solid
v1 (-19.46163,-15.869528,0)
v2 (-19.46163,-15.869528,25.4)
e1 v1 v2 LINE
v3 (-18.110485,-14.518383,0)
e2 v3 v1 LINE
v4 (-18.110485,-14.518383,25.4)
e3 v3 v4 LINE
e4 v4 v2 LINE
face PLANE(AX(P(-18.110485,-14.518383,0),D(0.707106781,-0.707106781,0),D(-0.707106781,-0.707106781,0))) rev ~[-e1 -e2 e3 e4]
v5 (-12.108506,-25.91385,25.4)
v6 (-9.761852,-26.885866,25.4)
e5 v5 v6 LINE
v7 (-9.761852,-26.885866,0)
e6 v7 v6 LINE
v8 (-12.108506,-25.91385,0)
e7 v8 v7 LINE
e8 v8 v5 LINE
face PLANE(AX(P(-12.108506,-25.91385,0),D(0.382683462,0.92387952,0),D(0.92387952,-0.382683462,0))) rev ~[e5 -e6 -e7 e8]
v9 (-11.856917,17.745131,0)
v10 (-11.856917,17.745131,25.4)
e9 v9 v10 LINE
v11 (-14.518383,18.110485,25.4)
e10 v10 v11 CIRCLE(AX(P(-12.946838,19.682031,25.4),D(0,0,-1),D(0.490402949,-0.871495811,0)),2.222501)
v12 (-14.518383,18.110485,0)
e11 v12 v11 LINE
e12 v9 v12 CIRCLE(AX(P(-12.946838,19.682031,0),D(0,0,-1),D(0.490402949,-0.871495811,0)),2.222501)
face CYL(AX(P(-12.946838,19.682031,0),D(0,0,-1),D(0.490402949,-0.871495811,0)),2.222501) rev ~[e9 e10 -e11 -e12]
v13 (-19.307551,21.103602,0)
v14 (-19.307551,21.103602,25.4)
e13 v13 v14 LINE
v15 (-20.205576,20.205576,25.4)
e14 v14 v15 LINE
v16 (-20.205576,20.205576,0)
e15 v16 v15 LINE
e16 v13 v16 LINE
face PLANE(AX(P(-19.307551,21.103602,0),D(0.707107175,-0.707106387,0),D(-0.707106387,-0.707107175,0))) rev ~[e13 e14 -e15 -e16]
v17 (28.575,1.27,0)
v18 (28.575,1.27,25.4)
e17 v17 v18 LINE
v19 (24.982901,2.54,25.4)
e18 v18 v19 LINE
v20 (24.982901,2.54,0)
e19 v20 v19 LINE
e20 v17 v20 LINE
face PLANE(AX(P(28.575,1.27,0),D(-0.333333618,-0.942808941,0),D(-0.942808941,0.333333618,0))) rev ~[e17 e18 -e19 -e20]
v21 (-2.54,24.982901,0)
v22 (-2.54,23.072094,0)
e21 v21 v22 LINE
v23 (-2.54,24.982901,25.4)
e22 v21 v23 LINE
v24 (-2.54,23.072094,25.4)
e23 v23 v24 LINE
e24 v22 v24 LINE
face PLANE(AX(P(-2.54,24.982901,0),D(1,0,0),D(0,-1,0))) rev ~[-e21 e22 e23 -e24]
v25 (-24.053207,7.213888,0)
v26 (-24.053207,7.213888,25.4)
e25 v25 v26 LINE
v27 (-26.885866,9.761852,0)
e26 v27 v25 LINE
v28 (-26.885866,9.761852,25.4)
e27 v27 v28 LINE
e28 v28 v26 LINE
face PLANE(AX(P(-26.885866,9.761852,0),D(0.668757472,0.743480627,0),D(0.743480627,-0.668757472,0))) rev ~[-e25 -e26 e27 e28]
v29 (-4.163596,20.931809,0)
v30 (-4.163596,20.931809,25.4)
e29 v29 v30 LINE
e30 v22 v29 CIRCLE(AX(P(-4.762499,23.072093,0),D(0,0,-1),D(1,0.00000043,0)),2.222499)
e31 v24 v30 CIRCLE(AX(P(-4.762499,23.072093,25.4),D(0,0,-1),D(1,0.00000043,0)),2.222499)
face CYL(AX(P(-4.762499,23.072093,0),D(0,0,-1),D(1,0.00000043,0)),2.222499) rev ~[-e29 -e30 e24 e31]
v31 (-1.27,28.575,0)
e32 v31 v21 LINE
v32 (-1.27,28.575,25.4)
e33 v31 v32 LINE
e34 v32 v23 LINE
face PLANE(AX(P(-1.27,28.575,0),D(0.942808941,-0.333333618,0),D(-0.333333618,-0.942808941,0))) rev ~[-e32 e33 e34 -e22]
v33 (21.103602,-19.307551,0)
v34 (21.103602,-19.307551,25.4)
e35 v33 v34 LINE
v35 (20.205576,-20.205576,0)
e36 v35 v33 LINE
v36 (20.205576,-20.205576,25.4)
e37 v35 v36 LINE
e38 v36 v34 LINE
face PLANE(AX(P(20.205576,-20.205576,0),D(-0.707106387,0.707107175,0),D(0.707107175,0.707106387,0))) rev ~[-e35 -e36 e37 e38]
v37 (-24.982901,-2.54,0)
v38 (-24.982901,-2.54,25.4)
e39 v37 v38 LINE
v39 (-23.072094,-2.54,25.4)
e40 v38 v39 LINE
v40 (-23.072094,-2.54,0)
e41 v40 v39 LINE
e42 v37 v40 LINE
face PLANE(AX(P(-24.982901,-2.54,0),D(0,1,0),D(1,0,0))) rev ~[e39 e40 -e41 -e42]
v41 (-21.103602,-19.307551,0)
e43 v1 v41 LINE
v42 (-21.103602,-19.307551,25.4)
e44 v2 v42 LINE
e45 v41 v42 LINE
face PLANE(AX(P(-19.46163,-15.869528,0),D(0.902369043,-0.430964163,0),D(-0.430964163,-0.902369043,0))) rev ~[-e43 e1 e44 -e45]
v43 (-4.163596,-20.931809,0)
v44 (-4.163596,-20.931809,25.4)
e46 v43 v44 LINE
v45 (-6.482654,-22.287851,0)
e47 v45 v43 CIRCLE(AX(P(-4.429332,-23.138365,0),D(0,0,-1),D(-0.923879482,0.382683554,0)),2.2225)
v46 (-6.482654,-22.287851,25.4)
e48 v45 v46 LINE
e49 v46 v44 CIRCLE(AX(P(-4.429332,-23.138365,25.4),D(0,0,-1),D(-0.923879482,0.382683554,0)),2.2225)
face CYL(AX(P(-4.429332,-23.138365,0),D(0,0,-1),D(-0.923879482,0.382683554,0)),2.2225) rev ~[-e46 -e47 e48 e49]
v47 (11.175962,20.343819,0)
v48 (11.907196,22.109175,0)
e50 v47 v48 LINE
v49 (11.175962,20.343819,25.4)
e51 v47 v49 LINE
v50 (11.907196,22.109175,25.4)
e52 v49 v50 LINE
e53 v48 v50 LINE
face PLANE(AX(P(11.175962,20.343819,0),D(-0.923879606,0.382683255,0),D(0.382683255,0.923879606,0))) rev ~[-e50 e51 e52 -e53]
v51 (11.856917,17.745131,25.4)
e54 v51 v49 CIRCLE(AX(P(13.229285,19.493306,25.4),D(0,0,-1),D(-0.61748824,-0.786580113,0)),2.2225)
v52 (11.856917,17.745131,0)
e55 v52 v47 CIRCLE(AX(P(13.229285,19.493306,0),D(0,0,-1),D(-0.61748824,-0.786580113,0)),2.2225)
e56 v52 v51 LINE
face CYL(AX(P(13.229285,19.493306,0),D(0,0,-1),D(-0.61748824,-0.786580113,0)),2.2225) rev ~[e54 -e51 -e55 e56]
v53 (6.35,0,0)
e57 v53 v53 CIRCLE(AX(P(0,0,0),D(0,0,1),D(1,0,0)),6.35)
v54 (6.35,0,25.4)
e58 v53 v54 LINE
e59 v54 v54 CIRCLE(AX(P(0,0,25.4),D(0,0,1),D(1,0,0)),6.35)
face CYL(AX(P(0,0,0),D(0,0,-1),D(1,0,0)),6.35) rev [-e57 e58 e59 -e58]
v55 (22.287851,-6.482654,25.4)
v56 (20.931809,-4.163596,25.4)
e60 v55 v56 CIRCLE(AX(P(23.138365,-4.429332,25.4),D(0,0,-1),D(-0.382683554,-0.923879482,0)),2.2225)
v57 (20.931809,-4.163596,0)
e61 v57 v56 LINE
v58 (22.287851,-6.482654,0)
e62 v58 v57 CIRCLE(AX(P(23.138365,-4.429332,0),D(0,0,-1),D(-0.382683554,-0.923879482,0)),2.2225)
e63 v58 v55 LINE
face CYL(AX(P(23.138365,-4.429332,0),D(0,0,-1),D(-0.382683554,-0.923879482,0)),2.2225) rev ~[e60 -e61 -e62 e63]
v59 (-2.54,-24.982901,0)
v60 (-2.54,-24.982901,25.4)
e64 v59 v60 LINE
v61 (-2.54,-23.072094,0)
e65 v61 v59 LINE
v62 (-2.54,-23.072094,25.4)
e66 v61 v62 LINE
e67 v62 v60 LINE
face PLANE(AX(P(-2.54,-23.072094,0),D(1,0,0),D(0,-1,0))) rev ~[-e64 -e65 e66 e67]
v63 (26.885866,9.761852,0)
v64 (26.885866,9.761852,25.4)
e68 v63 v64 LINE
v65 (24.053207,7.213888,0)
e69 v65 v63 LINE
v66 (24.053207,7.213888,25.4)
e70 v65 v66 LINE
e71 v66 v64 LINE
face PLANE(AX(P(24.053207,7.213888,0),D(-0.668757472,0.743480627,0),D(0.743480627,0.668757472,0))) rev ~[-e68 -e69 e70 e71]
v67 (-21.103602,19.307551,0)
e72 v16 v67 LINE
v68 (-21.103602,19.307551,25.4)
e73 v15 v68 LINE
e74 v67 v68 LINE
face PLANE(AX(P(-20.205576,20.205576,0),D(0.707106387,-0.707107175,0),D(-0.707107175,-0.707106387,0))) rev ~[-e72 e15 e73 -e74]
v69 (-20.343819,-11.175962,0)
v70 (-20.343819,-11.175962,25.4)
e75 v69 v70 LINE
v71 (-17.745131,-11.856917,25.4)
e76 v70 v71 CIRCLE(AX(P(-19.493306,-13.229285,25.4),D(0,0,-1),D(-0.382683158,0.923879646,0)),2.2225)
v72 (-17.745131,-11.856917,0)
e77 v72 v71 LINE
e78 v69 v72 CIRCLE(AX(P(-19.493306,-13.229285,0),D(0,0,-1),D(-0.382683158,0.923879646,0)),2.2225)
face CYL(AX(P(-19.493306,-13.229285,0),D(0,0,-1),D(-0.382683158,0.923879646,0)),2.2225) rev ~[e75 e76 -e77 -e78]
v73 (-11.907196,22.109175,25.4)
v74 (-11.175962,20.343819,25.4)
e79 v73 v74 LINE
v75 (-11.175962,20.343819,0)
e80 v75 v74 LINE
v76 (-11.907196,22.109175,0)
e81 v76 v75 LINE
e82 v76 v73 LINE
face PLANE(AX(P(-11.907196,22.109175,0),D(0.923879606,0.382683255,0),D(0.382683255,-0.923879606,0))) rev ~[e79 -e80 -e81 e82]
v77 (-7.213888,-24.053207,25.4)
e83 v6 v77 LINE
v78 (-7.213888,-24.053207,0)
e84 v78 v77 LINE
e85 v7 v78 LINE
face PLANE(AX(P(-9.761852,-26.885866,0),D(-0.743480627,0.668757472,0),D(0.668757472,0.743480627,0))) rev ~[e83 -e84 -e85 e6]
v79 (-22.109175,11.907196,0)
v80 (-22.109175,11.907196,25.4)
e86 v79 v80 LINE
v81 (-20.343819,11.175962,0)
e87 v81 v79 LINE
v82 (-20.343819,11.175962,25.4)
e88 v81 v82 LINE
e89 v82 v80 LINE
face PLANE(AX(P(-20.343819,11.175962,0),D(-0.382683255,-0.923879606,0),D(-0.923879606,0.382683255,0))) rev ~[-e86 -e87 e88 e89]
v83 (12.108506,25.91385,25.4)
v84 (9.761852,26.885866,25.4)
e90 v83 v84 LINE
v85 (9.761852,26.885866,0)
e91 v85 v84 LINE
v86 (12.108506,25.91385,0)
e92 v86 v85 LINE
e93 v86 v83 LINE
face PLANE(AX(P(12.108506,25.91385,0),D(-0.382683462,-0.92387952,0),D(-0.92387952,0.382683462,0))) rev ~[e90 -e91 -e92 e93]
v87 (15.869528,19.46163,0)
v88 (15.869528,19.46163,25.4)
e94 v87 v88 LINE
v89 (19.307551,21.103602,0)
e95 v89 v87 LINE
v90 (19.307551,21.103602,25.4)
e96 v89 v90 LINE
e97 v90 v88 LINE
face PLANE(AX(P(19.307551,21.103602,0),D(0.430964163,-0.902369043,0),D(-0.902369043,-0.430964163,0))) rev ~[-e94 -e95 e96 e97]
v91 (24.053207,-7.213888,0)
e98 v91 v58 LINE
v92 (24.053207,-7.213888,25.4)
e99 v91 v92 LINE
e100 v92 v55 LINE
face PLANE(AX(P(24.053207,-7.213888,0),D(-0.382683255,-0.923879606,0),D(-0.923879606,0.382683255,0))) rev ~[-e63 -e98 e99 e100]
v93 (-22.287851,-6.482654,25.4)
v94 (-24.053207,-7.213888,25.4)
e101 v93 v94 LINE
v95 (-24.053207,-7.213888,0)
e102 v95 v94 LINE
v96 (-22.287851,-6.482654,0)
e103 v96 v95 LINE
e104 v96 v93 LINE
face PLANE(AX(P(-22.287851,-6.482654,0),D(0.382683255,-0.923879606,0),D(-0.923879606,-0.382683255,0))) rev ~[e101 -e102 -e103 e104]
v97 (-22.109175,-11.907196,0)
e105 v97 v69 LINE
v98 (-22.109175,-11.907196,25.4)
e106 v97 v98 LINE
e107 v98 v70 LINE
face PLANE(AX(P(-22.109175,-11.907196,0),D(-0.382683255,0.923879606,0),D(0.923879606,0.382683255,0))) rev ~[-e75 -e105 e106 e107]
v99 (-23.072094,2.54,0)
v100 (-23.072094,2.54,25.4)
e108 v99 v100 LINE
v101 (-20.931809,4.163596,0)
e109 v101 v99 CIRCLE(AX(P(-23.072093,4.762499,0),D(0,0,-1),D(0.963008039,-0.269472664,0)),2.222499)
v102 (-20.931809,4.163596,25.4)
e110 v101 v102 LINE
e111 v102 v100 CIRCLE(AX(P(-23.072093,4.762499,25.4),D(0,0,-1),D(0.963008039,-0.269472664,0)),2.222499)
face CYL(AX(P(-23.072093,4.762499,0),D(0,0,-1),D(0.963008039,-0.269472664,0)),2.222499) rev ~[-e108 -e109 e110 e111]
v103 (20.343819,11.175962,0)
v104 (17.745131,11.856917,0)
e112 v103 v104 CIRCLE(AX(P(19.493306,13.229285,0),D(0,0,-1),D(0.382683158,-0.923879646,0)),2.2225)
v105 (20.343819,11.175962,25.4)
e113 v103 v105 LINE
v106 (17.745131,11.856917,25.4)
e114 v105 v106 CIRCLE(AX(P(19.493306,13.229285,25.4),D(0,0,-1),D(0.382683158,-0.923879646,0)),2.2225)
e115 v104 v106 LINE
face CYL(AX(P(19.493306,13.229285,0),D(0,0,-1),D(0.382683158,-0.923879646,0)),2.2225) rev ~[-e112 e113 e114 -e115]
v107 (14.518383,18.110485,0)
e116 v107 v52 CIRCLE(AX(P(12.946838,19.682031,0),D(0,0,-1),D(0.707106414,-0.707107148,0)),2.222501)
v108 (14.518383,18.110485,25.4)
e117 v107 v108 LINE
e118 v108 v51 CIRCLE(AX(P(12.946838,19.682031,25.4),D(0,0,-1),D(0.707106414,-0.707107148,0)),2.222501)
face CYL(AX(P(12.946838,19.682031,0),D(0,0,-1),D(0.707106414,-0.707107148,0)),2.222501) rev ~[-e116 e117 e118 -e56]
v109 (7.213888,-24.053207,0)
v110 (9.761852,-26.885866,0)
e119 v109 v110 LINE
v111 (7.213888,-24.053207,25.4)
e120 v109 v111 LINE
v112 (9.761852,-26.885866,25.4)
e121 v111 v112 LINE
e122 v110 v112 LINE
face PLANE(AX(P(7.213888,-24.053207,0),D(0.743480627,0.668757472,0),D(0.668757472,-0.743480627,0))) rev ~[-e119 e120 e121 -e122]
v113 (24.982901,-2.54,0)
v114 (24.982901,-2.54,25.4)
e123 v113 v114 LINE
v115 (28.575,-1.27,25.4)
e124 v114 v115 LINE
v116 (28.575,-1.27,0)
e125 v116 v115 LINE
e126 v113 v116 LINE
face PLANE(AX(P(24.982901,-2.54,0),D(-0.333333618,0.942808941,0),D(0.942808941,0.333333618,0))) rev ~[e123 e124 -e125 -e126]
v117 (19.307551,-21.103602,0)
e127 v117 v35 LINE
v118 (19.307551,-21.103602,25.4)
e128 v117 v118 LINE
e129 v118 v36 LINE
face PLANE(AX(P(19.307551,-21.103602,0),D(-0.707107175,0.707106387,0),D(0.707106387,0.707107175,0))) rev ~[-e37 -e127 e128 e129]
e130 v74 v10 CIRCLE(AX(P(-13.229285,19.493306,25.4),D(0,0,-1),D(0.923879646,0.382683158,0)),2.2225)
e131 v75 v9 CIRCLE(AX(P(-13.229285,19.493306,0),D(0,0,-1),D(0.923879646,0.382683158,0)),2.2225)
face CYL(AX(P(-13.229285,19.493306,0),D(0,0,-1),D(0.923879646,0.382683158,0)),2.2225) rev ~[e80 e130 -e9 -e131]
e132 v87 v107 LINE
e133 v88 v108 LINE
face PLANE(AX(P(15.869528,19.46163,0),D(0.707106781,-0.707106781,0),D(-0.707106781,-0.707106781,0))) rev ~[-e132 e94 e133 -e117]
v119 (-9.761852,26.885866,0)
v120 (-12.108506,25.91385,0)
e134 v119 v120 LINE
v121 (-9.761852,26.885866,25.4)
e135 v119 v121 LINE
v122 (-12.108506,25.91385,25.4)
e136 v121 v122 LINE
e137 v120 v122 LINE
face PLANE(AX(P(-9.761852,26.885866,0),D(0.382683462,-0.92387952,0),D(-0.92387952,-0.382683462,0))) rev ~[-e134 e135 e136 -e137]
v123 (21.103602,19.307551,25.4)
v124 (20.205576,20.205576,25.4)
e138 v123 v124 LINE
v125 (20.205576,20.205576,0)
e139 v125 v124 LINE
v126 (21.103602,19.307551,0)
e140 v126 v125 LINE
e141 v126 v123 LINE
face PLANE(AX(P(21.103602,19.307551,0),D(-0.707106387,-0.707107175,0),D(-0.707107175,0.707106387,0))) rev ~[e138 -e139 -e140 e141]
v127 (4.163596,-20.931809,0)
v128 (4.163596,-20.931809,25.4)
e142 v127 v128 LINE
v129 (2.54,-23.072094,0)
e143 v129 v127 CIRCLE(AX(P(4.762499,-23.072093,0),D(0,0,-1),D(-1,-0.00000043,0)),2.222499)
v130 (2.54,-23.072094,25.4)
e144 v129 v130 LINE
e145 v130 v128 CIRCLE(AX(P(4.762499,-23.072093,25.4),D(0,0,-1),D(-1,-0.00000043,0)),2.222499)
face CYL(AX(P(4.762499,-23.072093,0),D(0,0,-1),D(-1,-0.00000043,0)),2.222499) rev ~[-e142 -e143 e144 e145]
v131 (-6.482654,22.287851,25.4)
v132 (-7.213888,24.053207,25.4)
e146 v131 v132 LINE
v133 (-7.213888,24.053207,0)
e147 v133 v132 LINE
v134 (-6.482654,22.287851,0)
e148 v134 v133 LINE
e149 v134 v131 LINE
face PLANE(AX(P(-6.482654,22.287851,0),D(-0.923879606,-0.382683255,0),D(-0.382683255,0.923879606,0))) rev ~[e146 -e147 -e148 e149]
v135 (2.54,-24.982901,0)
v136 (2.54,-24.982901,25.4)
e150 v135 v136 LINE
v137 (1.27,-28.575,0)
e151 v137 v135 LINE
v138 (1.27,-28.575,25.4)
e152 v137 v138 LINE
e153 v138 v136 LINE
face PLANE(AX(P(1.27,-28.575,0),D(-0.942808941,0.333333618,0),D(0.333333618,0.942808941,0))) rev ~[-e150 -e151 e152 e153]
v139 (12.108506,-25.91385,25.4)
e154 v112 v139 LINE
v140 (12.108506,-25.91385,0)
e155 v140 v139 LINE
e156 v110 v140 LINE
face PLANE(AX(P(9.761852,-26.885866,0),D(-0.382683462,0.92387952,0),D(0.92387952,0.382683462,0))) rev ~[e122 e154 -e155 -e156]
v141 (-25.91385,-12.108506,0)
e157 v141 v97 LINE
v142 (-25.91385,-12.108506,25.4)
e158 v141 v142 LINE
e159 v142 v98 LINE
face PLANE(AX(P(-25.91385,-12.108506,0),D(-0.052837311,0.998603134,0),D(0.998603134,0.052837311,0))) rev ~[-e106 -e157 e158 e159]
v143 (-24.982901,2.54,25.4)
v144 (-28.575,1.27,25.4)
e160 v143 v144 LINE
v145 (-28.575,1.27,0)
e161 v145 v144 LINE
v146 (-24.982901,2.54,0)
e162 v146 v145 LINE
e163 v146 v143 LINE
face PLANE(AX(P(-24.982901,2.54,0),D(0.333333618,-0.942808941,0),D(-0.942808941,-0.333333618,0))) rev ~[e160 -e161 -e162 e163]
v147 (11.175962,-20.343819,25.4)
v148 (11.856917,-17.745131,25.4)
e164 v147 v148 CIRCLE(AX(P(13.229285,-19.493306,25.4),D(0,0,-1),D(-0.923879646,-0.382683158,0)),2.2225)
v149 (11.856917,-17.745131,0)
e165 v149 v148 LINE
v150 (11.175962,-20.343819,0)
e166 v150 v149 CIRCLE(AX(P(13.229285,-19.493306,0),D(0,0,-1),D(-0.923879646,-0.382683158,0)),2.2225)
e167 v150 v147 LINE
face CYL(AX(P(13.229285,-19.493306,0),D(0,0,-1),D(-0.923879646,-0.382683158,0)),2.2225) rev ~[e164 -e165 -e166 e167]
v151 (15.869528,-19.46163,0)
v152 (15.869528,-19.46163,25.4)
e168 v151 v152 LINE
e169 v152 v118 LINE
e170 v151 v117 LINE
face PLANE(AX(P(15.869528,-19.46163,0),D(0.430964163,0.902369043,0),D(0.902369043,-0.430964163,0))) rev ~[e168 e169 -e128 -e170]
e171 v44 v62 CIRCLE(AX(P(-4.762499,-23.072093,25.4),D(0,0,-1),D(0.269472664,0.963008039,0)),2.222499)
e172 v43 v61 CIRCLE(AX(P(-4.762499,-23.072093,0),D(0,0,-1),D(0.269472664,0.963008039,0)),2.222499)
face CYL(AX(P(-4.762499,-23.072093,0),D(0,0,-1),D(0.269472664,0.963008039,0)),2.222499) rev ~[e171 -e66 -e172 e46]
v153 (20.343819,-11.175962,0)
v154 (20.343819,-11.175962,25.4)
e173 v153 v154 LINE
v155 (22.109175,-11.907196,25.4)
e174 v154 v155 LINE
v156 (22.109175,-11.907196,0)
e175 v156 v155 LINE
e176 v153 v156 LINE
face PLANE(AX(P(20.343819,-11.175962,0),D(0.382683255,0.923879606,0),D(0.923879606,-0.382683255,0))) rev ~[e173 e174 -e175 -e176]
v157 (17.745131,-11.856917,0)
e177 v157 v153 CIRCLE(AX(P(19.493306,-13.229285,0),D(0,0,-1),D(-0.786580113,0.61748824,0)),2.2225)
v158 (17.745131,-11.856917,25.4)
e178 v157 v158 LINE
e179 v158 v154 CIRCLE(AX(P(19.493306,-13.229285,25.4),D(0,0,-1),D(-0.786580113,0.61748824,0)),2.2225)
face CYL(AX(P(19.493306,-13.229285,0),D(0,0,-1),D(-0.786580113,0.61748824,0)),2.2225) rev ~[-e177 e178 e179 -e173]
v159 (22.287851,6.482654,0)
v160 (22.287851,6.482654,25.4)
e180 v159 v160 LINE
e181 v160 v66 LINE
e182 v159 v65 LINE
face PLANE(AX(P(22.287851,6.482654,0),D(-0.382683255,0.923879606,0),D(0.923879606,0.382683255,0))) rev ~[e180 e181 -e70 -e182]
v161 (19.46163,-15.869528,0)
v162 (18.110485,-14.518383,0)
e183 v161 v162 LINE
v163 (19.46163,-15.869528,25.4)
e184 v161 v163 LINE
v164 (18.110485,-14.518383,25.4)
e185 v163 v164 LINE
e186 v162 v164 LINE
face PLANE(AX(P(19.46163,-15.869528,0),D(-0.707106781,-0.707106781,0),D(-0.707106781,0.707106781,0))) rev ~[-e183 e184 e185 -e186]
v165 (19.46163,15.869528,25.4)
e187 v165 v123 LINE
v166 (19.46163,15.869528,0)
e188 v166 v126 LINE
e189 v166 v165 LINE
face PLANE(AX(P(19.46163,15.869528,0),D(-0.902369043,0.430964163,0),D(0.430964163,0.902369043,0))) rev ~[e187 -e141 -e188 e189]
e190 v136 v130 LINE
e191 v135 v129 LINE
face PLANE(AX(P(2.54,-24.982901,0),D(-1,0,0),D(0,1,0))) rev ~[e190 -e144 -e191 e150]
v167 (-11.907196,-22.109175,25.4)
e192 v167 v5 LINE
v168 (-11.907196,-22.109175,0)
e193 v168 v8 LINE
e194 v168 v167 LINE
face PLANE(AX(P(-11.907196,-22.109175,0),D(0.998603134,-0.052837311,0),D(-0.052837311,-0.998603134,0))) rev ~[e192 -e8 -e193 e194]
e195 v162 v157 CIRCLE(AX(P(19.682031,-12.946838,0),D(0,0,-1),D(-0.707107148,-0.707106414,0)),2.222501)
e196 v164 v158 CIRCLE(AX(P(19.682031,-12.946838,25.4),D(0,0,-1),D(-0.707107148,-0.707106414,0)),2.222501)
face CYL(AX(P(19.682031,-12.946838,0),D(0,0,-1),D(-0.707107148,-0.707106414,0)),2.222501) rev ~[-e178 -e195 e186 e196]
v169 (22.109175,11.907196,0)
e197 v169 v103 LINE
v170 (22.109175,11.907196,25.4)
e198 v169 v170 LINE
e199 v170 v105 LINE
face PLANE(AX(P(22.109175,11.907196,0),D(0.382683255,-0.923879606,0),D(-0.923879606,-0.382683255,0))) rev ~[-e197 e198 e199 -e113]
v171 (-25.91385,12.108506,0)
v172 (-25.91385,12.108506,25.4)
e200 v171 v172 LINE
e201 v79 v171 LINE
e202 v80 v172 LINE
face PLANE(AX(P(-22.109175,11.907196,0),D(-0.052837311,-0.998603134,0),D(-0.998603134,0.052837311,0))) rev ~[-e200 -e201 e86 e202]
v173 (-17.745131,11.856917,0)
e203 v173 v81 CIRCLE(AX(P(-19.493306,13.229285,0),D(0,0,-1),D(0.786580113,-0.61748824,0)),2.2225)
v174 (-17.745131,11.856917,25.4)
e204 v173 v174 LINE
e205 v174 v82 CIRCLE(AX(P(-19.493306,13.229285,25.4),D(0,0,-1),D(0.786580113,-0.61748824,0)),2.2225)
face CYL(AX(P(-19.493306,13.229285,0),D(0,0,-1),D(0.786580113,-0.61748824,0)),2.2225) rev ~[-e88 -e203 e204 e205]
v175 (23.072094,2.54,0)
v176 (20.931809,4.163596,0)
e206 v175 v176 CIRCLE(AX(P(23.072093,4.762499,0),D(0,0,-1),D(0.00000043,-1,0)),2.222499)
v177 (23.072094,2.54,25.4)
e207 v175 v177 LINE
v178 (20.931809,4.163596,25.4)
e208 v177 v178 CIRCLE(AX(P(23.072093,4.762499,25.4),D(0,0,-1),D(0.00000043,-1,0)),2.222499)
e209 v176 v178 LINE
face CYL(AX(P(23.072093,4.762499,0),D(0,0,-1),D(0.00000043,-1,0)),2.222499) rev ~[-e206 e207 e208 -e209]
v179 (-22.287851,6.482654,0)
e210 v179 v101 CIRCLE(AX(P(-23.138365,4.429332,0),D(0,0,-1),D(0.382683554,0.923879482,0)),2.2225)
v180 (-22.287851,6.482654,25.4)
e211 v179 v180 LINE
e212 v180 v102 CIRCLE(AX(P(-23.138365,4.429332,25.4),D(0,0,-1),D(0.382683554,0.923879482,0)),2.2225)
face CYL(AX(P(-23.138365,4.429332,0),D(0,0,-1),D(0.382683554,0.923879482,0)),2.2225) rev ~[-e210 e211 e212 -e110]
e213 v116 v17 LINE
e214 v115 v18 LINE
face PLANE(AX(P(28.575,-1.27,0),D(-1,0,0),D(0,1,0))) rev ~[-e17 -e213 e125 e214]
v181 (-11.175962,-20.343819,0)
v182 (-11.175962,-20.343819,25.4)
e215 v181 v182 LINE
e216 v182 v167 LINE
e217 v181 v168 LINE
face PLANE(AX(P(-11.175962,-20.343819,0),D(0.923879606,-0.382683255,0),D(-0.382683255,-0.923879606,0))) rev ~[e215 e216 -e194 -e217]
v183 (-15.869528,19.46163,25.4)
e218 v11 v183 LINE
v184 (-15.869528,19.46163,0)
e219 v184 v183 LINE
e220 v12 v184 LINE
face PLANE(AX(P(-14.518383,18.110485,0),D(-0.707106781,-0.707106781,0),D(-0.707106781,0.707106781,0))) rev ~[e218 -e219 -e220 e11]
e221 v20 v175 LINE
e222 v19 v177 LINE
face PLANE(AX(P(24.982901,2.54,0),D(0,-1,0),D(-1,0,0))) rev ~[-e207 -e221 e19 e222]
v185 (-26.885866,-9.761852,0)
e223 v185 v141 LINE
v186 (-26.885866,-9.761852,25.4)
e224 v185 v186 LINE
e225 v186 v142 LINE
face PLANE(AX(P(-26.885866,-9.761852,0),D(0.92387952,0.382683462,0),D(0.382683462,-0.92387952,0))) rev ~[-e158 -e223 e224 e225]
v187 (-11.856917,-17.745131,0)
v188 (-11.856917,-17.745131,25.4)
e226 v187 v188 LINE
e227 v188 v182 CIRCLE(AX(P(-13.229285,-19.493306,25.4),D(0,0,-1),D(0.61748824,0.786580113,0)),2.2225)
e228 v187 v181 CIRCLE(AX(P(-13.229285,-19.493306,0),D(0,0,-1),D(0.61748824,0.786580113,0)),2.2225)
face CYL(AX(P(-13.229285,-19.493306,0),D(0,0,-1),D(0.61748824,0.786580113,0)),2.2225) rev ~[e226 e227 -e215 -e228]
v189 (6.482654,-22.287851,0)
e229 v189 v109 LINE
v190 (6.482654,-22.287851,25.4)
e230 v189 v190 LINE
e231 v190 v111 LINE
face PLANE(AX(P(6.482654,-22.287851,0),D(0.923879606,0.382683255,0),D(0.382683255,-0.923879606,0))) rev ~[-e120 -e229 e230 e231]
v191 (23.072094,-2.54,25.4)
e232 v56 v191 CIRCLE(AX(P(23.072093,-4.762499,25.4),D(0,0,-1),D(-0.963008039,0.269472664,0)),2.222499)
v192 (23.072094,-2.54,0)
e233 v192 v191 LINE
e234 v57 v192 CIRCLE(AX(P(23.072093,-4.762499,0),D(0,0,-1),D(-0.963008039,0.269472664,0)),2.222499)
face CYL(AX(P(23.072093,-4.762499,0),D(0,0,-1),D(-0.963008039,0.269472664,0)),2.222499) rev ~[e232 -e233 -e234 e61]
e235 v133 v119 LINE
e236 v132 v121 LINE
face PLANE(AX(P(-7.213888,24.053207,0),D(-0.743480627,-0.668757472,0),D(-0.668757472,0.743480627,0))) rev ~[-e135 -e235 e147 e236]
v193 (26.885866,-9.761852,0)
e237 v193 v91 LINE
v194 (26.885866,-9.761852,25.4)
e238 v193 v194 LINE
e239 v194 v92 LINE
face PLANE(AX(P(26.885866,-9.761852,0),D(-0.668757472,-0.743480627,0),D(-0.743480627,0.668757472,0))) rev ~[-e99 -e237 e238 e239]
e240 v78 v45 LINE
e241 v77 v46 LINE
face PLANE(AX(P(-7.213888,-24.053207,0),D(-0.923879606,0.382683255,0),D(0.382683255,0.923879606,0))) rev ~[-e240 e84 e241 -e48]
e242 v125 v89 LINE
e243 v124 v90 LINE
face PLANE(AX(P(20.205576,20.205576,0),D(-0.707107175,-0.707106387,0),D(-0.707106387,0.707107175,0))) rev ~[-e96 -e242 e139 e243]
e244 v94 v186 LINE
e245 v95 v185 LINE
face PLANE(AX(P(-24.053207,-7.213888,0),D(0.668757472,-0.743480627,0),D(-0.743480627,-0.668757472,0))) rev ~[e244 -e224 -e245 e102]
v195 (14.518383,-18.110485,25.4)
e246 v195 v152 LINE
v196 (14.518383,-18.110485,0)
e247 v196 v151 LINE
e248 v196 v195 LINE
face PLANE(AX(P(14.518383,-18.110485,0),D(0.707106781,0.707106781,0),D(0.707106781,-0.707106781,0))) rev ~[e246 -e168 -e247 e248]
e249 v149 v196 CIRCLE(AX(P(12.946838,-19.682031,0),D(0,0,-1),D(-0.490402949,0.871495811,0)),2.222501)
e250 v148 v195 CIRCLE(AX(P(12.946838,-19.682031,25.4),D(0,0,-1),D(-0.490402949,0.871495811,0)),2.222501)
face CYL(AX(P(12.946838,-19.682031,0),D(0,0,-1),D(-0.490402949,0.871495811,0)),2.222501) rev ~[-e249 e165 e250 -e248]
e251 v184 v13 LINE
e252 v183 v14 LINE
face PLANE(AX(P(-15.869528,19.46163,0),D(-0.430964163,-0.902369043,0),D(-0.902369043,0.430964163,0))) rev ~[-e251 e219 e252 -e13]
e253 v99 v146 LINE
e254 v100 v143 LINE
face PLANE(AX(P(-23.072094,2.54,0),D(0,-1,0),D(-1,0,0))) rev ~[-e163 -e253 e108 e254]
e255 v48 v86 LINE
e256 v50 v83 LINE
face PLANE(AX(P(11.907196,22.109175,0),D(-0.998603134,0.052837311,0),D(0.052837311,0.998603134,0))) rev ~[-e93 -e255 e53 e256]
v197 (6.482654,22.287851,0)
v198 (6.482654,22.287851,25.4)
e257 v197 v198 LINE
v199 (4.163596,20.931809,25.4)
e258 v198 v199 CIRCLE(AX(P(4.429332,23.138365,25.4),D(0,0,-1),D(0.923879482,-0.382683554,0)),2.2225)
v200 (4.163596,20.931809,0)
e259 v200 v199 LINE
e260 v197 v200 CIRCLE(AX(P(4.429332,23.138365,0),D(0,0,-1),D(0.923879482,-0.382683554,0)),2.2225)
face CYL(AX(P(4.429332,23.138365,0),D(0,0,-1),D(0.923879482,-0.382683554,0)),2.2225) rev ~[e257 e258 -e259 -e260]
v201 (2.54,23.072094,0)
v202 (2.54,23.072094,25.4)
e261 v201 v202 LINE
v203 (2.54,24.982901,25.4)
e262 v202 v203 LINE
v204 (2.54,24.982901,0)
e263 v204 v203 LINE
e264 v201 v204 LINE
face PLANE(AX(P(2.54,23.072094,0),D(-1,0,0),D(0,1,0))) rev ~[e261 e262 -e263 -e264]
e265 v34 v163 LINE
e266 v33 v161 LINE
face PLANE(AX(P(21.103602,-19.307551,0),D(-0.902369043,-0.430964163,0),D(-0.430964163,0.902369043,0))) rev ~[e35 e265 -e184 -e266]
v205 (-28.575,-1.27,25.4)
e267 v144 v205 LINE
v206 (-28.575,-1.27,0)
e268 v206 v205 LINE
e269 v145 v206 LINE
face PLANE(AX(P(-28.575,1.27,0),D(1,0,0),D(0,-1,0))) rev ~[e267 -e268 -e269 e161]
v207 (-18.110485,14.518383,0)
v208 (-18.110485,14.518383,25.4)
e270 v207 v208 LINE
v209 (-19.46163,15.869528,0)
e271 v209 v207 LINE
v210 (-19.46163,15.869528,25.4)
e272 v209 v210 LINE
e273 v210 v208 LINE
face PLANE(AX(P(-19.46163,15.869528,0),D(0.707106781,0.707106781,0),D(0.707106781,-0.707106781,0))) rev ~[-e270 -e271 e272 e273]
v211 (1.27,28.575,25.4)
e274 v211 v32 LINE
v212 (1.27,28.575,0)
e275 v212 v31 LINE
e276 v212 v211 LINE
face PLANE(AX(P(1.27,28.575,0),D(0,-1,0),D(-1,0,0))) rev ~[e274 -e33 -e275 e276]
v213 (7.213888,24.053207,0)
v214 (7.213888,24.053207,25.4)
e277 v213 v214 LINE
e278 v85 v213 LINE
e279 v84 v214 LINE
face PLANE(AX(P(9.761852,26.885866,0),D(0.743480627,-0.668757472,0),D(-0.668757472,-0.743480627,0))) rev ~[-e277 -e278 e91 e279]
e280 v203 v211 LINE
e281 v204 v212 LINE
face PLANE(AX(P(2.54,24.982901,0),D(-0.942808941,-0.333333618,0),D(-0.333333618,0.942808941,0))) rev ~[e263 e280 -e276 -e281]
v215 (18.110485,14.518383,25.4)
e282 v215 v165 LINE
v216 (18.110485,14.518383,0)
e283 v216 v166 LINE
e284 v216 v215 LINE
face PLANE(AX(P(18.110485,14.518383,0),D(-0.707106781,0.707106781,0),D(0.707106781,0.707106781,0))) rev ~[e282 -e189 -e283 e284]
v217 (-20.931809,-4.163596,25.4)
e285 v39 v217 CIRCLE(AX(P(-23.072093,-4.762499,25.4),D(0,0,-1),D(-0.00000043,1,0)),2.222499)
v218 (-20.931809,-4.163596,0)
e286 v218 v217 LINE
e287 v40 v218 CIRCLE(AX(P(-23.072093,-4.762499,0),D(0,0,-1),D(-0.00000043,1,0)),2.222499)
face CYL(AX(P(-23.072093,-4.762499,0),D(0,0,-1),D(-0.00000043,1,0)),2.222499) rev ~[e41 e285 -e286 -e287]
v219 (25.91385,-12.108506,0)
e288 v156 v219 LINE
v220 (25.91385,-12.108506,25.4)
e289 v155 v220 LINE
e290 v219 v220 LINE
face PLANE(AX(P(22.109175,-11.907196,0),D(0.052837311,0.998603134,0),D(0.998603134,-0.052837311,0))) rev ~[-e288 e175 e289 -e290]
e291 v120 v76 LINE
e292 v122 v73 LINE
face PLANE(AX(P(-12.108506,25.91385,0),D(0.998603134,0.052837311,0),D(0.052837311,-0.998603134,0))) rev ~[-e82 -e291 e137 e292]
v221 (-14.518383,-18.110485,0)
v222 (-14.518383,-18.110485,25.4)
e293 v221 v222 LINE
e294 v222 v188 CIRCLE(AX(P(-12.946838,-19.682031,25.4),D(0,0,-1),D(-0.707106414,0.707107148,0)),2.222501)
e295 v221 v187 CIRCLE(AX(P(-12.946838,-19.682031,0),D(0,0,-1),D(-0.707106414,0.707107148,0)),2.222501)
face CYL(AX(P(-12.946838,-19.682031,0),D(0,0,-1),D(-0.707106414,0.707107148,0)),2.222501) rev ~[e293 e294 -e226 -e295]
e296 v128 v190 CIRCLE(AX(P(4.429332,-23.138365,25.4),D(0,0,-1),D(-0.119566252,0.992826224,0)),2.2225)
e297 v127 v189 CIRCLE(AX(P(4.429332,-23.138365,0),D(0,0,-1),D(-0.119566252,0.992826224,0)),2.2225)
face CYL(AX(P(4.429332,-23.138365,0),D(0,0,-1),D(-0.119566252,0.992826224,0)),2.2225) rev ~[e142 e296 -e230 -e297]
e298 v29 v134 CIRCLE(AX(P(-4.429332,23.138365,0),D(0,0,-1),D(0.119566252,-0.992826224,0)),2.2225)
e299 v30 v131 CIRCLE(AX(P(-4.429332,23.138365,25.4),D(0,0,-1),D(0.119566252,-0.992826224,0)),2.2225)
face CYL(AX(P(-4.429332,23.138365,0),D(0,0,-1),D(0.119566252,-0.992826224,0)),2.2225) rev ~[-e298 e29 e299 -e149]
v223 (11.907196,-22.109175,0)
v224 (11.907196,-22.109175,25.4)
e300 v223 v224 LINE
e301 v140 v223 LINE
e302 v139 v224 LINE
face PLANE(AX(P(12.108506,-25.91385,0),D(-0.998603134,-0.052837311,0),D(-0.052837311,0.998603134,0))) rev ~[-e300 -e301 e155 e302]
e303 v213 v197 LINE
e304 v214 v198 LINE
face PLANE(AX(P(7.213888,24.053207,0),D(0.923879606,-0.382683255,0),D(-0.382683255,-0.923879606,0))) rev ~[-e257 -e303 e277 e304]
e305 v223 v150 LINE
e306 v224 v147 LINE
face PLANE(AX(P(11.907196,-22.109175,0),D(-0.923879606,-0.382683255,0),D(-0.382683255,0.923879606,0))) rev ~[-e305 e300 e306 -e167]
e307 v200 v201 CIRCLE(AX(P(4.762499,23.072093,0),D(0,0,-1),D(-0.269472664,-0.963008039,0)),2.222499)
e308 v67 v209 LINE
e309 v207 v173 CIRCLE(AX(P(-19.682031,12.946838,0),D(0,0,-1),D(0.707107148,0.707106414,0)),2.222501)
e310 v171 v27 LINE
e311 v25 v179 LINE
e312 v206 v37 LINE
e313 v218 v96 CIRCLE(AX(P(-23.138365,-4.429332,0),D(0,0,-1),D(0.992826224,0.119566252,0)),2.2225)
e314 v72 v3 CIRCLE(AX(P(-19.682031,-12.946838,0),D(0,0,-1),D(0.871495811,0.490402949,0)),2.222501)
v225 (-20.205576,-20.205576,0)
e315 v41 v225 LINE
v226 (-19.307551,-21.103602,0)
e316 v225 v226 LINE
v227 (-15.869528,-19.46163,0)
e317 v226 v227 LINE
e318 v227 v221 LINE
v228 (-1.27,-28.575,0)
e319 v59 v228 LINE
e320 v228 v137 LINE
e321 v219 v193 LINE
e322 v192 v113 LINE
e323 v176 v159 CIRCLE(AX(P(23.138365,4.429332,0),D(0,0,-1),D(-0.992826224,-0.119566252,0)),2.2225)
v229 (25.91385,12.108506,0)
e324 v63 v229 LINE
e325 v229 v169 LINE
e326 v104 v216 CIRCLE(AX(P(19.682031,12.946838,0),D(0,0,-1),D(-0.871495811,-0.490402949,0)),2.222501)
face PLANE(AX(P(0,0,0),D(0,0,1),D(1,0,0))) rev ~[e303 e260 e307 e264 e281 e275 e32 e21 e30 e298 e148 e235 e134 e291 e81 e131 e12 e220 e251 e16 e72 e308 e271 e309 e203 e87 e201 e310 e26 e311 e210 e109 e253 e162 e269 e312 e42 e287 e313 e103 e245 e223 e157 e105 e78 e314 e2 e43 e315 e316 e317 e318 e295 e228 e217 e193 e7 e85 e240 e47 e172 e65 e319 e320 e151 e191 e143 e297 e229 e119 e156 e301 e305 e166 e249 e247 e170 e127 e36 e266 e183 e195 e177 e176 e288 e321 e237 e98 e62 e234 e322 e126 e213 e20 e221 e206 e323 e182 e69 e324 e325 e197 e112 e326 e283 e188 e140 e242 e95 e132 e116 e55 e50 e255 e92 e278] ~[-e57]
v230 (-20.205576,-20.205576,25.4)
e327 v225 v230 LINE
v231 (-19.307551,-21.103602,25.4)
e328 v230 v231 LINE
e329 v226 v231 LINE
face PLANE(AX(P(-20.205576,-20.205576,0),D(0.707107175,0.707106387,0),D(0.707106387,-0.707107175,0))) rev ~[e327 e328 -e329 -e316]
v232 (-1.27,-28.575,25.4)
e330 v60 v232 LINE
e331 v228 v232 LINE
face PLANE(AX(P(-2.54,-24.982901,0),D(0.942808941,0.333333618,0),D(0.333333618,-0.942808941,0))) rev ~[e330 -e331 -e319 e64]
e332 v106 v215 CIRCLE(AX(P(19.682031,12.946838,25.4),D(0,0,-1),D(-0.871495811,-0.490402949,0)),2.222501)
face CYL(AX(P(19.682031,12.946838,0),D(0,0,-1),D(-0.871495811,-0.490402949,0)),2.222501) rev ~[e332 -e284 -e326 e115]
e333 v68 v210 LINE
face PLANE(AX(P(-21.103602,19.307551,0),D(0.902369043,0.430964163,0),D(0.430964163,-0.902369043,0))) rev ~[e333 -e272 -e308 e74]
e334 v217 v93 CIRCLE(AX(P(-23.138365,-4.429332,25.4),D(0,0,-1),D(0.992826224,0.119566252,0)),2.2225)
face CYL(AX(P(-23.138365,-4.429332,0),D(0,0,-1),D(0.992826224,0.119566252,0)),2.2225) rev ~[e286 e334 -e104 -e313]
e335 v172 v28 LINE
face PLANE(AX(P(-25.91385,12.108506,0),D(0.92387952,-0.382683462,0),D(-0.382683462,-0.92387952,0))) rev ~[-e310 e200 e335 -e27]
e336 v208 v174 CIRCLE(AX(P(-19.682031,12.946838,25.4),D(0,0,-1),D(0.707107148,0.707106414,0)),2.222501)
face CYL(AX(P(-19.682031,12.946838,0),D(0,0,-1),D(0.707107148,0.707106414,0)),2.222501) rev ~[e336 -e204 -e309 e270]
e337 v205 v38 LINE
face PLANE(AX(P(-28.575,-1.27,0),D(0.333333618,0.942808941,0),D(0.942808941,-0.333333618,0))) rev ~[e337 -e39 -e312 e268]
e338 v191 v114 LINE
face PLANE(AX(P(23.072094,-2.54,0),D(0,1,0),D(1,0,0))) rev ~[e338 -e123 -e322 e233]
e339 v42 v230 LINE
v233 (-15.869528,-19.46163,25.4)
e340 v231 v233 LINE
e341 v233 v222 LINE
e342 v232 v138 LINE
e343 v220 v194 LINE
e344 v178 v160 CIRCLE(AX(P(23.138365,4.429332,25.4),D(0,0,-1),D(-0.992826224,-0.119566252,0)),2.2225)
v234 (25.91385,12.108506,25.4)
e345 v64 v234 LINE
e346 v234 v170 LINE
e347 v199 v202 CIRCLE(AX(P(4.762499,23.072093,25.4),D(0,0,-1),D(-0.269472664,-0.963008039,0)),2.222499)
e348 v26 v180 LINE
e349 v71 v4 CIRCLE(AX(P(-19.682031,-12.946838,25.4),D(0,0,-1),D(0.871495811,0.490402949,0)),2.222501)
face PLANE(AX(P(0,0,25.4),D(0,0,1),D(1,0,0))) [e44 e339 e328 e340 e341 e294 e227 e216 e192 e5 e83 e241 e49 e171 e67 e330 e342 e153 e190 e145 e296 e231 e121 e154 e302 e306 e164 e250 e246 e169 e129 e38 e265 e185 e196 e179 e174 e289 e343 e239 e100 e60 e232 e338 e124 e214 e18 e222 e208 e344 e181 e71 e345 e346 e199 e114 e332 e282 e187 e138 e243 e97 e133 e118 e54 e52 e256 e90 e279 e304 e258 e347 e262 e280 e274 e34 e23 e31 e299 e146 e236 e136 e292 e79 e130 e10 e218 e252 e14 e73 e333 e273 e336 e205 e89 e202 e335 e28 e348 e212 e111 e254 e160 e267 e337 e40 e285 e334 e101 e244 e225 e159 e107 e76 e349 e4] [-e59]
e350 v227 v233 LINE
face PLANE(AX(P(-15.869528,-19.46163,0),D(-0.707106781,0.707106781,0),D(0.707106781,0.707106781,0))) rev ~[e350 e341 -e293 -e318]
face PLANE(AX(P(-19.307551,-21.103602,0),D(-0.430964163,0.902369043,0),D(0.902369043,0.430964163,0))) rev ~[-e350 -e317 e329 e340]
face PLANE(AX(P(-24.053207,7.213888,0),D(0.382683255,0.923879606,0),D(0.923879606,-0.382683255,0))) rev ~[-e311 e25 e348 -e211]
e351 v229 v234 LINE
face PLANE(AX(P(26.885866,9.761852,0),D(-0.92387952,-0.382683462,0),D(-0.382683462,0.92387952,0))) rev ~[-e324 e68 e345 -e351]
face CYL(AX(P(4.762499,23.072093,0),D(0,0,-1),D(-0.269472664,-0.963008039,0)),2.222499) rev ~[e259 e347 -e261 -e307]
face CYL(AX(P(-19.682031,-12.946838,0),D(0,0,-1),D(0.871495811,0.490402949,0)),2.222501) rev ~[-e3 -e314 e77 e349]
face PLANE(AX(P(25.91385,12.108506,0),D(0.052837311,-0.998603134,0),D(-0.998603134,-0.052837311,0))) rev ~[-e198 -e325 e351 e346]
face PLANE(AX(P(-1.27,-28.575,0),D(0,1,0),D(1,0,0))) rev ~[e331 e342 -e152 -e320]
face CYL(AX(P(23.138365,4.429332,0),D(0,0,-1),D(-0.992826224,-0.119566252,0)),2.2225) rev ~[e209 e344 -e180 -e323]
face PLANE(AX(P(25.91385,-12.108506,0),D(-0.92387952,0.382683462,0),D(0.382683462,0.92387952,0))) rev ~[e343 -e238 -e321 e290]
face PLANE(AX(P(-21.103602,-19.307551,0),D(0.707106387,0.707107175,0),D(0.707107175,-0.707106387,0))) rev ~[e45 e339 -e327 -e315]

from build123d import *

# Parameters (mm, degrees)
F0_R     = 6.35
F1_DEPTH = 25.4


with BuildPart() as f1:
    # F0 (on Top) → F1 (new body)
    with BuildSketch(Plane.XY):
        with BuildLine():
            Line((1.27, 28.575), (0, 28.575))
            Line((0, 28.575), (-1.27, 28.575))
            Line((-1.27, 28.575), (-2.54, 24.982901))
            Line((-2.54, 24.982901), (-2.54, 23.072094))
            ThreePointArc((-2.54, 23.072094), (-2.991826, 21.728881), (-4.163596, 20.931809))
            ThreePointArc((-4.163596, 20.931809), (-5.551196, 21.219791), (-6.482654, 22.287851))
            Line((-6.482654, 22.287851), (-7.213888, 24.053207))
            Line((-7.213888, 24.053207), (-9.761852, 26.885866))
            Line((-9.761852, 26.885866), (-10.935179, 26.399858))
            Line((-10.935179, 26.399858), (-12.108506, 25.91385))
            Line((-12.108506, 25.91385), (-11.907196, 22.109175))
            Line((-11.907196, 22.109175), (-11.175962, 20.343819))
            ThreePointArc((-11.175962, 20.343819), (-11.07937, 18.929946), (-11.856917, 17.745131))
            ThreePointArc((-11.856917, 17.745131), (-13.249099, 17.48018), (-14.518383, 18.110485))
            Line((-14.518383, 18.110485), (-15.869528, 19.46163))
            Line((-15.869528, 19.46163), (-19.307551, 21.103602))
            Line((-19.307551, 21.103602), (-20.205576, 20.205576))
            Line((-20.205576, 20.205576), (-21.103602, 19.307551))
            Line((-21.103602, 19.307551), (-19.46163, 15.869528))
            Line((-19.46163, 15.869528), (-18.110485, 14.518383))
            ThreePointArc((-18.110485, 14.518383), (-17.48018, 13.249099), (-17.745131, 11.856917))
            ThreePointArc((-17.745131, 11.856917), (-18.929946, 11.07937), (-20.343819, 11.175962))
            Line((-20.343819, 11.175962), (-22.109175, 11.907196))
            Line((-22.109175, 11.907196), (-25.91385, 12.108506))
            Line((-25.91385, 12.108506), (-26.399858, 10.935179))
            Line((-26.399858, 10.935179), (-26.885866, 9.761852))
            Line((-26.885866, 9.761852), (-24.053207, 7.213888))
            Line((-24.053207, 7.213888), (-22.287851, 6.482654))
            ThreePointArc((-22.287851, 6.482654), (-21.219791, 5.551196), (-20.931809, 4.163596))
            ThreePointArc((-20.931809, 4.163596), (-21.728881, 2.991826), (-23.072094, 2.54))
            Line((-23.072094, 2.54), (-24.982901, 2.54))
            Line((-24.982901, 2.54), (-28.575, 1.27))
            Line((-28.575, 1.27), (-28.575, 0))
            Line((-28.575, 0), (-28.575, -1.27))
            Line((-28.575, -1.27), (-24.982901, -2.54))
            Line((-24.982901, -2.54), (-23.072094, -2.54))
            ThreePointArc((-23.072094, -2.54), (-21.728881, -2.991826), (-20.931809, -4.163596))
            ThreePointArc((-20.931809, -4.163596), (-21.219791, -5.551196), (-22.287851, -6.482654))
            Line((-22.287851, -6.482654), (-24.053207, -7.213888))
            Line((-24.053207, -7.213888), (-26.885866, -9.761852))
            Line((-26.885866, -9.761852), (-26.399858, -10.935179))
            Line((-26.399858, -10.935179), (-25.91385, -12.108506))
            Line((-25.91385, -12.108506), (-22.109175, -11.907196))
            Line((-22.109175, -11.907196), (-20.343819, -11.175962))
            ThreePointArc((-20.343819, -11.175962), (-18.929946, -11.07937), (-17.745131, -11.856917))
            ThreePointArc((-17.745131, -11.856917), (-17.48018, -13.249099), (-18.110485, -14.518383))
            Line((-18.110485, -14.518383), (-19.46163, -15.869528))
            Line((-19.46163, -15.869528), (-21.103602, -19.307551))
            Line((-21.103602, -19.307551), (-20.205576, -20.205576))
            Line((-20.205576, -20.205576), (-19.307551, -21.103602))
            Line((-19.307551, -21.103602), (-15.869528, -19.46163))
            Line((-15.869528, -19.46163), (-14.518383, -18.110485))
            ThreePointArc((-14.518383, -18.110485), (-13.249099, -17.48018), (-11.856917, -17.745131))
            ThreePointArc((-11.856917, -17.745131), (-11.07937, -18.929946), (-11.175962, -20.343819))
            Line((-11.175962, -20.343819), (-11.907196, -22.109175))
            Line((-11.907196, -22.109175), (-12.108506, -25.91385))
            Line((-12.108506, -25.91385), (-10.935179, -26.399858))
            Line((-10.935179, -26.399858), (-9.761852, -26.885866))
            Line((-9.761852, -26.885866), (-7.213888, -24.053207))
            Line((-7.213888, -24.053207), (-6.482654, -22.287851))
            ThreePointArc((-6.482654, -22.287851), (-5.551196, -21.219791), (-4.163596, -20.931809))
            ThreePointArc((-4.163596, -20.931809), (-2.991826, -21.728881), (-2.54, -23.072094))
            Line((-2.54, -23.072094), (-2.54, -24.982901))
            Line((-2.54, -24.982901), (-1.27, -28.575))
            Line((-1.27, -28.575), (0, -28.575))
            Line((0, -28.575), (1.27, -28.575))
            Line((1.27, -28.575), (2.54, -24.982901))
            Line((2.54, -24.982901), (2.54, -23.072094))
            ThreePointArc((2.54, -23.072094), (2.991826, -21.728881), (4.163596, -20.931809))
            ThreePointArc((4.163596, -20.931809), (5.551196, -21.219791), (6.482654, -22.287851))
            Line((6.482654, -22.287851), (7.213888, -24.053207))
            Line((7.213888, -24.053207), (9.761852, -26.885866))
            Line((9.761852, -26.885866), (10.935179, -26.399858))
            Line((10.935179, -26.399858), (12.108506, -25.91385))
            Line((12.108506, -25.91385), (11.907196, -22.109175))
            Line((11.907196, -22.109175), (11.175962, -20.343819))
            ThreePointArc((11.175962, -20.343819), (11.07937, -18.929946), (11.856917, -17.745131))
            ThreePointArc((11.856917, -17.745131), (13.249099, -17.48018), (14.518383, -18.110485))
            Line((14.518383, -18.110485), (15.869528, -19.46163))
            Line((15.869528, -19.46163), (19.307551, -21.103602))
            Line((19.307551, -21.103602), (20.205576, -20.205576))
            Line((20.205576, -20.205576), (21.103602, -19.307551))
            Line((21.103602, -19.307551), (19.46163, -15.869528))
            Line((19.46163, -15.869528), (18.110485, -14.518383))
            ThreePointArc((18.110485, -14.518383), (17.48018, -13.249099), (17.745131, -11.856917))
            ThreePointArc((17.745131, -11.856917), (18.929946, -11.07937), (20.343819, -11.175962))
            Line((20.343819, -11.175962), (22.109175, -11.907196))
            Line((22.109175, -11.907196), (25.91385, -12.108506))
            Line((25.91385, -12.108506), (26.399858, -10.935179))
            Line((26.399858, -10.935179), (26.885866, -9.761852))
            Line((26.885866, -9.761852), (24.053207, -7.213888))
            Line((24.053207, -7.213888), (22.287851, -6.482654))
            ThreePointArc((22.287851, -6.482654), (21.219791, -5.551196), (20.931809, -4.163596))
            ThreePointArc((20.931809, -4.163596), (21.728881, -2.991826), (23.072094, -2.54))
            Line((23.072094, -2.54), (24.982901, -2.54))
            Line((24.982901, -2.54), (28.575, -1.27))
            Line((28.575, -1.27), (28.575, 0))
            Line((28.575, 0), (28.575, 1.27))
            Line((28.575, 1.27), (24.982901, 2.54))
            Line((24.982901, 2.54), (23.072094, 2.54))
            ThreePointArc((23.072094, 2.54), (21.728881, 2.991826), (20.931809, 4.163596))
            ThreePointArc((20.931809, 4.163596), (21.219791, 5.551196), (22.287851, 6.482654))
            Line((22.287851, 6.482654), (24.053207, 7.213888))
            Line((24.053207, 7.213888), (26.885866, 9.761852))
            Line((26.885866, 9.761852), (26.399858, 10.935179))
            Line((26.399858, 10.935179), (25.91385, 12.108506))
            Line((25.91385, 12.108506), (22.109175, 11.907196))
            Line((22.109175, 11.907196), (20.343819, 11.175962))
            ThreePointArc((20.343819, 11.175962), (18.929946, 11.07937), (17.745131, 11.856917))
            ThreePointArc((17.745131, 11.856917), (17.48018, 13.249099), (18.110485, 14.518383))
            Line((18.110485, 14.518383), (19.46163, 15.869528))
            Line((19.46163, 15.869528), (21.103602, 19.307551))
            Line((21.103602, 19.307551), (20.205576, 20.205576))
            Line((20.205576, 20.205576), (19.307551, 21.103602))
            Line((19.307551, 21.103602), (15.869528, 19.46163))
            Line((15.869528, 19.46163), (14.518383, 18.110485))
            ThreePointArc((14.518383, 18.110485), (13.249099, 17.48018), (11.856917, 17.745131))
            ThreePointArc((11.856917, 17.745131), (11.07937, 18.929946), (11.175962, 20.343819))
            Line((11.175962, 20.343819), (11.907196, 22.109175))
            Line((11.907196, 22.109175), (12.108506, 25.91385))
            Line((12.108506, 25.91385), (10.935179, 26.399858))
            Line((10.935179, 26.399858), (9.761852, 26.885866))
            Line((9.761852, 26.885866), (7.213888, 24.053207))
            Line((7.213888, 24.053207), (6.482654, 22.287851))
            ThreePointArc((6.482654, 22.287851), (5.551196, 21.219791), (4.163596, 20.931809))
            ThreePointArc((4.163596, 20.931809), (2.991826, 21.728881), (2.54, 23.072094))
            Line((2.54, 23.072094), (2.54, 24.982901))
            Line((2.54, 24.982901), (1.27, 28.575))
        make_face()
        Circle(F0_R, mode=Mode.SUBTRACT)
    extrude(amount=F1_DEPTH)


solid = f1.part
